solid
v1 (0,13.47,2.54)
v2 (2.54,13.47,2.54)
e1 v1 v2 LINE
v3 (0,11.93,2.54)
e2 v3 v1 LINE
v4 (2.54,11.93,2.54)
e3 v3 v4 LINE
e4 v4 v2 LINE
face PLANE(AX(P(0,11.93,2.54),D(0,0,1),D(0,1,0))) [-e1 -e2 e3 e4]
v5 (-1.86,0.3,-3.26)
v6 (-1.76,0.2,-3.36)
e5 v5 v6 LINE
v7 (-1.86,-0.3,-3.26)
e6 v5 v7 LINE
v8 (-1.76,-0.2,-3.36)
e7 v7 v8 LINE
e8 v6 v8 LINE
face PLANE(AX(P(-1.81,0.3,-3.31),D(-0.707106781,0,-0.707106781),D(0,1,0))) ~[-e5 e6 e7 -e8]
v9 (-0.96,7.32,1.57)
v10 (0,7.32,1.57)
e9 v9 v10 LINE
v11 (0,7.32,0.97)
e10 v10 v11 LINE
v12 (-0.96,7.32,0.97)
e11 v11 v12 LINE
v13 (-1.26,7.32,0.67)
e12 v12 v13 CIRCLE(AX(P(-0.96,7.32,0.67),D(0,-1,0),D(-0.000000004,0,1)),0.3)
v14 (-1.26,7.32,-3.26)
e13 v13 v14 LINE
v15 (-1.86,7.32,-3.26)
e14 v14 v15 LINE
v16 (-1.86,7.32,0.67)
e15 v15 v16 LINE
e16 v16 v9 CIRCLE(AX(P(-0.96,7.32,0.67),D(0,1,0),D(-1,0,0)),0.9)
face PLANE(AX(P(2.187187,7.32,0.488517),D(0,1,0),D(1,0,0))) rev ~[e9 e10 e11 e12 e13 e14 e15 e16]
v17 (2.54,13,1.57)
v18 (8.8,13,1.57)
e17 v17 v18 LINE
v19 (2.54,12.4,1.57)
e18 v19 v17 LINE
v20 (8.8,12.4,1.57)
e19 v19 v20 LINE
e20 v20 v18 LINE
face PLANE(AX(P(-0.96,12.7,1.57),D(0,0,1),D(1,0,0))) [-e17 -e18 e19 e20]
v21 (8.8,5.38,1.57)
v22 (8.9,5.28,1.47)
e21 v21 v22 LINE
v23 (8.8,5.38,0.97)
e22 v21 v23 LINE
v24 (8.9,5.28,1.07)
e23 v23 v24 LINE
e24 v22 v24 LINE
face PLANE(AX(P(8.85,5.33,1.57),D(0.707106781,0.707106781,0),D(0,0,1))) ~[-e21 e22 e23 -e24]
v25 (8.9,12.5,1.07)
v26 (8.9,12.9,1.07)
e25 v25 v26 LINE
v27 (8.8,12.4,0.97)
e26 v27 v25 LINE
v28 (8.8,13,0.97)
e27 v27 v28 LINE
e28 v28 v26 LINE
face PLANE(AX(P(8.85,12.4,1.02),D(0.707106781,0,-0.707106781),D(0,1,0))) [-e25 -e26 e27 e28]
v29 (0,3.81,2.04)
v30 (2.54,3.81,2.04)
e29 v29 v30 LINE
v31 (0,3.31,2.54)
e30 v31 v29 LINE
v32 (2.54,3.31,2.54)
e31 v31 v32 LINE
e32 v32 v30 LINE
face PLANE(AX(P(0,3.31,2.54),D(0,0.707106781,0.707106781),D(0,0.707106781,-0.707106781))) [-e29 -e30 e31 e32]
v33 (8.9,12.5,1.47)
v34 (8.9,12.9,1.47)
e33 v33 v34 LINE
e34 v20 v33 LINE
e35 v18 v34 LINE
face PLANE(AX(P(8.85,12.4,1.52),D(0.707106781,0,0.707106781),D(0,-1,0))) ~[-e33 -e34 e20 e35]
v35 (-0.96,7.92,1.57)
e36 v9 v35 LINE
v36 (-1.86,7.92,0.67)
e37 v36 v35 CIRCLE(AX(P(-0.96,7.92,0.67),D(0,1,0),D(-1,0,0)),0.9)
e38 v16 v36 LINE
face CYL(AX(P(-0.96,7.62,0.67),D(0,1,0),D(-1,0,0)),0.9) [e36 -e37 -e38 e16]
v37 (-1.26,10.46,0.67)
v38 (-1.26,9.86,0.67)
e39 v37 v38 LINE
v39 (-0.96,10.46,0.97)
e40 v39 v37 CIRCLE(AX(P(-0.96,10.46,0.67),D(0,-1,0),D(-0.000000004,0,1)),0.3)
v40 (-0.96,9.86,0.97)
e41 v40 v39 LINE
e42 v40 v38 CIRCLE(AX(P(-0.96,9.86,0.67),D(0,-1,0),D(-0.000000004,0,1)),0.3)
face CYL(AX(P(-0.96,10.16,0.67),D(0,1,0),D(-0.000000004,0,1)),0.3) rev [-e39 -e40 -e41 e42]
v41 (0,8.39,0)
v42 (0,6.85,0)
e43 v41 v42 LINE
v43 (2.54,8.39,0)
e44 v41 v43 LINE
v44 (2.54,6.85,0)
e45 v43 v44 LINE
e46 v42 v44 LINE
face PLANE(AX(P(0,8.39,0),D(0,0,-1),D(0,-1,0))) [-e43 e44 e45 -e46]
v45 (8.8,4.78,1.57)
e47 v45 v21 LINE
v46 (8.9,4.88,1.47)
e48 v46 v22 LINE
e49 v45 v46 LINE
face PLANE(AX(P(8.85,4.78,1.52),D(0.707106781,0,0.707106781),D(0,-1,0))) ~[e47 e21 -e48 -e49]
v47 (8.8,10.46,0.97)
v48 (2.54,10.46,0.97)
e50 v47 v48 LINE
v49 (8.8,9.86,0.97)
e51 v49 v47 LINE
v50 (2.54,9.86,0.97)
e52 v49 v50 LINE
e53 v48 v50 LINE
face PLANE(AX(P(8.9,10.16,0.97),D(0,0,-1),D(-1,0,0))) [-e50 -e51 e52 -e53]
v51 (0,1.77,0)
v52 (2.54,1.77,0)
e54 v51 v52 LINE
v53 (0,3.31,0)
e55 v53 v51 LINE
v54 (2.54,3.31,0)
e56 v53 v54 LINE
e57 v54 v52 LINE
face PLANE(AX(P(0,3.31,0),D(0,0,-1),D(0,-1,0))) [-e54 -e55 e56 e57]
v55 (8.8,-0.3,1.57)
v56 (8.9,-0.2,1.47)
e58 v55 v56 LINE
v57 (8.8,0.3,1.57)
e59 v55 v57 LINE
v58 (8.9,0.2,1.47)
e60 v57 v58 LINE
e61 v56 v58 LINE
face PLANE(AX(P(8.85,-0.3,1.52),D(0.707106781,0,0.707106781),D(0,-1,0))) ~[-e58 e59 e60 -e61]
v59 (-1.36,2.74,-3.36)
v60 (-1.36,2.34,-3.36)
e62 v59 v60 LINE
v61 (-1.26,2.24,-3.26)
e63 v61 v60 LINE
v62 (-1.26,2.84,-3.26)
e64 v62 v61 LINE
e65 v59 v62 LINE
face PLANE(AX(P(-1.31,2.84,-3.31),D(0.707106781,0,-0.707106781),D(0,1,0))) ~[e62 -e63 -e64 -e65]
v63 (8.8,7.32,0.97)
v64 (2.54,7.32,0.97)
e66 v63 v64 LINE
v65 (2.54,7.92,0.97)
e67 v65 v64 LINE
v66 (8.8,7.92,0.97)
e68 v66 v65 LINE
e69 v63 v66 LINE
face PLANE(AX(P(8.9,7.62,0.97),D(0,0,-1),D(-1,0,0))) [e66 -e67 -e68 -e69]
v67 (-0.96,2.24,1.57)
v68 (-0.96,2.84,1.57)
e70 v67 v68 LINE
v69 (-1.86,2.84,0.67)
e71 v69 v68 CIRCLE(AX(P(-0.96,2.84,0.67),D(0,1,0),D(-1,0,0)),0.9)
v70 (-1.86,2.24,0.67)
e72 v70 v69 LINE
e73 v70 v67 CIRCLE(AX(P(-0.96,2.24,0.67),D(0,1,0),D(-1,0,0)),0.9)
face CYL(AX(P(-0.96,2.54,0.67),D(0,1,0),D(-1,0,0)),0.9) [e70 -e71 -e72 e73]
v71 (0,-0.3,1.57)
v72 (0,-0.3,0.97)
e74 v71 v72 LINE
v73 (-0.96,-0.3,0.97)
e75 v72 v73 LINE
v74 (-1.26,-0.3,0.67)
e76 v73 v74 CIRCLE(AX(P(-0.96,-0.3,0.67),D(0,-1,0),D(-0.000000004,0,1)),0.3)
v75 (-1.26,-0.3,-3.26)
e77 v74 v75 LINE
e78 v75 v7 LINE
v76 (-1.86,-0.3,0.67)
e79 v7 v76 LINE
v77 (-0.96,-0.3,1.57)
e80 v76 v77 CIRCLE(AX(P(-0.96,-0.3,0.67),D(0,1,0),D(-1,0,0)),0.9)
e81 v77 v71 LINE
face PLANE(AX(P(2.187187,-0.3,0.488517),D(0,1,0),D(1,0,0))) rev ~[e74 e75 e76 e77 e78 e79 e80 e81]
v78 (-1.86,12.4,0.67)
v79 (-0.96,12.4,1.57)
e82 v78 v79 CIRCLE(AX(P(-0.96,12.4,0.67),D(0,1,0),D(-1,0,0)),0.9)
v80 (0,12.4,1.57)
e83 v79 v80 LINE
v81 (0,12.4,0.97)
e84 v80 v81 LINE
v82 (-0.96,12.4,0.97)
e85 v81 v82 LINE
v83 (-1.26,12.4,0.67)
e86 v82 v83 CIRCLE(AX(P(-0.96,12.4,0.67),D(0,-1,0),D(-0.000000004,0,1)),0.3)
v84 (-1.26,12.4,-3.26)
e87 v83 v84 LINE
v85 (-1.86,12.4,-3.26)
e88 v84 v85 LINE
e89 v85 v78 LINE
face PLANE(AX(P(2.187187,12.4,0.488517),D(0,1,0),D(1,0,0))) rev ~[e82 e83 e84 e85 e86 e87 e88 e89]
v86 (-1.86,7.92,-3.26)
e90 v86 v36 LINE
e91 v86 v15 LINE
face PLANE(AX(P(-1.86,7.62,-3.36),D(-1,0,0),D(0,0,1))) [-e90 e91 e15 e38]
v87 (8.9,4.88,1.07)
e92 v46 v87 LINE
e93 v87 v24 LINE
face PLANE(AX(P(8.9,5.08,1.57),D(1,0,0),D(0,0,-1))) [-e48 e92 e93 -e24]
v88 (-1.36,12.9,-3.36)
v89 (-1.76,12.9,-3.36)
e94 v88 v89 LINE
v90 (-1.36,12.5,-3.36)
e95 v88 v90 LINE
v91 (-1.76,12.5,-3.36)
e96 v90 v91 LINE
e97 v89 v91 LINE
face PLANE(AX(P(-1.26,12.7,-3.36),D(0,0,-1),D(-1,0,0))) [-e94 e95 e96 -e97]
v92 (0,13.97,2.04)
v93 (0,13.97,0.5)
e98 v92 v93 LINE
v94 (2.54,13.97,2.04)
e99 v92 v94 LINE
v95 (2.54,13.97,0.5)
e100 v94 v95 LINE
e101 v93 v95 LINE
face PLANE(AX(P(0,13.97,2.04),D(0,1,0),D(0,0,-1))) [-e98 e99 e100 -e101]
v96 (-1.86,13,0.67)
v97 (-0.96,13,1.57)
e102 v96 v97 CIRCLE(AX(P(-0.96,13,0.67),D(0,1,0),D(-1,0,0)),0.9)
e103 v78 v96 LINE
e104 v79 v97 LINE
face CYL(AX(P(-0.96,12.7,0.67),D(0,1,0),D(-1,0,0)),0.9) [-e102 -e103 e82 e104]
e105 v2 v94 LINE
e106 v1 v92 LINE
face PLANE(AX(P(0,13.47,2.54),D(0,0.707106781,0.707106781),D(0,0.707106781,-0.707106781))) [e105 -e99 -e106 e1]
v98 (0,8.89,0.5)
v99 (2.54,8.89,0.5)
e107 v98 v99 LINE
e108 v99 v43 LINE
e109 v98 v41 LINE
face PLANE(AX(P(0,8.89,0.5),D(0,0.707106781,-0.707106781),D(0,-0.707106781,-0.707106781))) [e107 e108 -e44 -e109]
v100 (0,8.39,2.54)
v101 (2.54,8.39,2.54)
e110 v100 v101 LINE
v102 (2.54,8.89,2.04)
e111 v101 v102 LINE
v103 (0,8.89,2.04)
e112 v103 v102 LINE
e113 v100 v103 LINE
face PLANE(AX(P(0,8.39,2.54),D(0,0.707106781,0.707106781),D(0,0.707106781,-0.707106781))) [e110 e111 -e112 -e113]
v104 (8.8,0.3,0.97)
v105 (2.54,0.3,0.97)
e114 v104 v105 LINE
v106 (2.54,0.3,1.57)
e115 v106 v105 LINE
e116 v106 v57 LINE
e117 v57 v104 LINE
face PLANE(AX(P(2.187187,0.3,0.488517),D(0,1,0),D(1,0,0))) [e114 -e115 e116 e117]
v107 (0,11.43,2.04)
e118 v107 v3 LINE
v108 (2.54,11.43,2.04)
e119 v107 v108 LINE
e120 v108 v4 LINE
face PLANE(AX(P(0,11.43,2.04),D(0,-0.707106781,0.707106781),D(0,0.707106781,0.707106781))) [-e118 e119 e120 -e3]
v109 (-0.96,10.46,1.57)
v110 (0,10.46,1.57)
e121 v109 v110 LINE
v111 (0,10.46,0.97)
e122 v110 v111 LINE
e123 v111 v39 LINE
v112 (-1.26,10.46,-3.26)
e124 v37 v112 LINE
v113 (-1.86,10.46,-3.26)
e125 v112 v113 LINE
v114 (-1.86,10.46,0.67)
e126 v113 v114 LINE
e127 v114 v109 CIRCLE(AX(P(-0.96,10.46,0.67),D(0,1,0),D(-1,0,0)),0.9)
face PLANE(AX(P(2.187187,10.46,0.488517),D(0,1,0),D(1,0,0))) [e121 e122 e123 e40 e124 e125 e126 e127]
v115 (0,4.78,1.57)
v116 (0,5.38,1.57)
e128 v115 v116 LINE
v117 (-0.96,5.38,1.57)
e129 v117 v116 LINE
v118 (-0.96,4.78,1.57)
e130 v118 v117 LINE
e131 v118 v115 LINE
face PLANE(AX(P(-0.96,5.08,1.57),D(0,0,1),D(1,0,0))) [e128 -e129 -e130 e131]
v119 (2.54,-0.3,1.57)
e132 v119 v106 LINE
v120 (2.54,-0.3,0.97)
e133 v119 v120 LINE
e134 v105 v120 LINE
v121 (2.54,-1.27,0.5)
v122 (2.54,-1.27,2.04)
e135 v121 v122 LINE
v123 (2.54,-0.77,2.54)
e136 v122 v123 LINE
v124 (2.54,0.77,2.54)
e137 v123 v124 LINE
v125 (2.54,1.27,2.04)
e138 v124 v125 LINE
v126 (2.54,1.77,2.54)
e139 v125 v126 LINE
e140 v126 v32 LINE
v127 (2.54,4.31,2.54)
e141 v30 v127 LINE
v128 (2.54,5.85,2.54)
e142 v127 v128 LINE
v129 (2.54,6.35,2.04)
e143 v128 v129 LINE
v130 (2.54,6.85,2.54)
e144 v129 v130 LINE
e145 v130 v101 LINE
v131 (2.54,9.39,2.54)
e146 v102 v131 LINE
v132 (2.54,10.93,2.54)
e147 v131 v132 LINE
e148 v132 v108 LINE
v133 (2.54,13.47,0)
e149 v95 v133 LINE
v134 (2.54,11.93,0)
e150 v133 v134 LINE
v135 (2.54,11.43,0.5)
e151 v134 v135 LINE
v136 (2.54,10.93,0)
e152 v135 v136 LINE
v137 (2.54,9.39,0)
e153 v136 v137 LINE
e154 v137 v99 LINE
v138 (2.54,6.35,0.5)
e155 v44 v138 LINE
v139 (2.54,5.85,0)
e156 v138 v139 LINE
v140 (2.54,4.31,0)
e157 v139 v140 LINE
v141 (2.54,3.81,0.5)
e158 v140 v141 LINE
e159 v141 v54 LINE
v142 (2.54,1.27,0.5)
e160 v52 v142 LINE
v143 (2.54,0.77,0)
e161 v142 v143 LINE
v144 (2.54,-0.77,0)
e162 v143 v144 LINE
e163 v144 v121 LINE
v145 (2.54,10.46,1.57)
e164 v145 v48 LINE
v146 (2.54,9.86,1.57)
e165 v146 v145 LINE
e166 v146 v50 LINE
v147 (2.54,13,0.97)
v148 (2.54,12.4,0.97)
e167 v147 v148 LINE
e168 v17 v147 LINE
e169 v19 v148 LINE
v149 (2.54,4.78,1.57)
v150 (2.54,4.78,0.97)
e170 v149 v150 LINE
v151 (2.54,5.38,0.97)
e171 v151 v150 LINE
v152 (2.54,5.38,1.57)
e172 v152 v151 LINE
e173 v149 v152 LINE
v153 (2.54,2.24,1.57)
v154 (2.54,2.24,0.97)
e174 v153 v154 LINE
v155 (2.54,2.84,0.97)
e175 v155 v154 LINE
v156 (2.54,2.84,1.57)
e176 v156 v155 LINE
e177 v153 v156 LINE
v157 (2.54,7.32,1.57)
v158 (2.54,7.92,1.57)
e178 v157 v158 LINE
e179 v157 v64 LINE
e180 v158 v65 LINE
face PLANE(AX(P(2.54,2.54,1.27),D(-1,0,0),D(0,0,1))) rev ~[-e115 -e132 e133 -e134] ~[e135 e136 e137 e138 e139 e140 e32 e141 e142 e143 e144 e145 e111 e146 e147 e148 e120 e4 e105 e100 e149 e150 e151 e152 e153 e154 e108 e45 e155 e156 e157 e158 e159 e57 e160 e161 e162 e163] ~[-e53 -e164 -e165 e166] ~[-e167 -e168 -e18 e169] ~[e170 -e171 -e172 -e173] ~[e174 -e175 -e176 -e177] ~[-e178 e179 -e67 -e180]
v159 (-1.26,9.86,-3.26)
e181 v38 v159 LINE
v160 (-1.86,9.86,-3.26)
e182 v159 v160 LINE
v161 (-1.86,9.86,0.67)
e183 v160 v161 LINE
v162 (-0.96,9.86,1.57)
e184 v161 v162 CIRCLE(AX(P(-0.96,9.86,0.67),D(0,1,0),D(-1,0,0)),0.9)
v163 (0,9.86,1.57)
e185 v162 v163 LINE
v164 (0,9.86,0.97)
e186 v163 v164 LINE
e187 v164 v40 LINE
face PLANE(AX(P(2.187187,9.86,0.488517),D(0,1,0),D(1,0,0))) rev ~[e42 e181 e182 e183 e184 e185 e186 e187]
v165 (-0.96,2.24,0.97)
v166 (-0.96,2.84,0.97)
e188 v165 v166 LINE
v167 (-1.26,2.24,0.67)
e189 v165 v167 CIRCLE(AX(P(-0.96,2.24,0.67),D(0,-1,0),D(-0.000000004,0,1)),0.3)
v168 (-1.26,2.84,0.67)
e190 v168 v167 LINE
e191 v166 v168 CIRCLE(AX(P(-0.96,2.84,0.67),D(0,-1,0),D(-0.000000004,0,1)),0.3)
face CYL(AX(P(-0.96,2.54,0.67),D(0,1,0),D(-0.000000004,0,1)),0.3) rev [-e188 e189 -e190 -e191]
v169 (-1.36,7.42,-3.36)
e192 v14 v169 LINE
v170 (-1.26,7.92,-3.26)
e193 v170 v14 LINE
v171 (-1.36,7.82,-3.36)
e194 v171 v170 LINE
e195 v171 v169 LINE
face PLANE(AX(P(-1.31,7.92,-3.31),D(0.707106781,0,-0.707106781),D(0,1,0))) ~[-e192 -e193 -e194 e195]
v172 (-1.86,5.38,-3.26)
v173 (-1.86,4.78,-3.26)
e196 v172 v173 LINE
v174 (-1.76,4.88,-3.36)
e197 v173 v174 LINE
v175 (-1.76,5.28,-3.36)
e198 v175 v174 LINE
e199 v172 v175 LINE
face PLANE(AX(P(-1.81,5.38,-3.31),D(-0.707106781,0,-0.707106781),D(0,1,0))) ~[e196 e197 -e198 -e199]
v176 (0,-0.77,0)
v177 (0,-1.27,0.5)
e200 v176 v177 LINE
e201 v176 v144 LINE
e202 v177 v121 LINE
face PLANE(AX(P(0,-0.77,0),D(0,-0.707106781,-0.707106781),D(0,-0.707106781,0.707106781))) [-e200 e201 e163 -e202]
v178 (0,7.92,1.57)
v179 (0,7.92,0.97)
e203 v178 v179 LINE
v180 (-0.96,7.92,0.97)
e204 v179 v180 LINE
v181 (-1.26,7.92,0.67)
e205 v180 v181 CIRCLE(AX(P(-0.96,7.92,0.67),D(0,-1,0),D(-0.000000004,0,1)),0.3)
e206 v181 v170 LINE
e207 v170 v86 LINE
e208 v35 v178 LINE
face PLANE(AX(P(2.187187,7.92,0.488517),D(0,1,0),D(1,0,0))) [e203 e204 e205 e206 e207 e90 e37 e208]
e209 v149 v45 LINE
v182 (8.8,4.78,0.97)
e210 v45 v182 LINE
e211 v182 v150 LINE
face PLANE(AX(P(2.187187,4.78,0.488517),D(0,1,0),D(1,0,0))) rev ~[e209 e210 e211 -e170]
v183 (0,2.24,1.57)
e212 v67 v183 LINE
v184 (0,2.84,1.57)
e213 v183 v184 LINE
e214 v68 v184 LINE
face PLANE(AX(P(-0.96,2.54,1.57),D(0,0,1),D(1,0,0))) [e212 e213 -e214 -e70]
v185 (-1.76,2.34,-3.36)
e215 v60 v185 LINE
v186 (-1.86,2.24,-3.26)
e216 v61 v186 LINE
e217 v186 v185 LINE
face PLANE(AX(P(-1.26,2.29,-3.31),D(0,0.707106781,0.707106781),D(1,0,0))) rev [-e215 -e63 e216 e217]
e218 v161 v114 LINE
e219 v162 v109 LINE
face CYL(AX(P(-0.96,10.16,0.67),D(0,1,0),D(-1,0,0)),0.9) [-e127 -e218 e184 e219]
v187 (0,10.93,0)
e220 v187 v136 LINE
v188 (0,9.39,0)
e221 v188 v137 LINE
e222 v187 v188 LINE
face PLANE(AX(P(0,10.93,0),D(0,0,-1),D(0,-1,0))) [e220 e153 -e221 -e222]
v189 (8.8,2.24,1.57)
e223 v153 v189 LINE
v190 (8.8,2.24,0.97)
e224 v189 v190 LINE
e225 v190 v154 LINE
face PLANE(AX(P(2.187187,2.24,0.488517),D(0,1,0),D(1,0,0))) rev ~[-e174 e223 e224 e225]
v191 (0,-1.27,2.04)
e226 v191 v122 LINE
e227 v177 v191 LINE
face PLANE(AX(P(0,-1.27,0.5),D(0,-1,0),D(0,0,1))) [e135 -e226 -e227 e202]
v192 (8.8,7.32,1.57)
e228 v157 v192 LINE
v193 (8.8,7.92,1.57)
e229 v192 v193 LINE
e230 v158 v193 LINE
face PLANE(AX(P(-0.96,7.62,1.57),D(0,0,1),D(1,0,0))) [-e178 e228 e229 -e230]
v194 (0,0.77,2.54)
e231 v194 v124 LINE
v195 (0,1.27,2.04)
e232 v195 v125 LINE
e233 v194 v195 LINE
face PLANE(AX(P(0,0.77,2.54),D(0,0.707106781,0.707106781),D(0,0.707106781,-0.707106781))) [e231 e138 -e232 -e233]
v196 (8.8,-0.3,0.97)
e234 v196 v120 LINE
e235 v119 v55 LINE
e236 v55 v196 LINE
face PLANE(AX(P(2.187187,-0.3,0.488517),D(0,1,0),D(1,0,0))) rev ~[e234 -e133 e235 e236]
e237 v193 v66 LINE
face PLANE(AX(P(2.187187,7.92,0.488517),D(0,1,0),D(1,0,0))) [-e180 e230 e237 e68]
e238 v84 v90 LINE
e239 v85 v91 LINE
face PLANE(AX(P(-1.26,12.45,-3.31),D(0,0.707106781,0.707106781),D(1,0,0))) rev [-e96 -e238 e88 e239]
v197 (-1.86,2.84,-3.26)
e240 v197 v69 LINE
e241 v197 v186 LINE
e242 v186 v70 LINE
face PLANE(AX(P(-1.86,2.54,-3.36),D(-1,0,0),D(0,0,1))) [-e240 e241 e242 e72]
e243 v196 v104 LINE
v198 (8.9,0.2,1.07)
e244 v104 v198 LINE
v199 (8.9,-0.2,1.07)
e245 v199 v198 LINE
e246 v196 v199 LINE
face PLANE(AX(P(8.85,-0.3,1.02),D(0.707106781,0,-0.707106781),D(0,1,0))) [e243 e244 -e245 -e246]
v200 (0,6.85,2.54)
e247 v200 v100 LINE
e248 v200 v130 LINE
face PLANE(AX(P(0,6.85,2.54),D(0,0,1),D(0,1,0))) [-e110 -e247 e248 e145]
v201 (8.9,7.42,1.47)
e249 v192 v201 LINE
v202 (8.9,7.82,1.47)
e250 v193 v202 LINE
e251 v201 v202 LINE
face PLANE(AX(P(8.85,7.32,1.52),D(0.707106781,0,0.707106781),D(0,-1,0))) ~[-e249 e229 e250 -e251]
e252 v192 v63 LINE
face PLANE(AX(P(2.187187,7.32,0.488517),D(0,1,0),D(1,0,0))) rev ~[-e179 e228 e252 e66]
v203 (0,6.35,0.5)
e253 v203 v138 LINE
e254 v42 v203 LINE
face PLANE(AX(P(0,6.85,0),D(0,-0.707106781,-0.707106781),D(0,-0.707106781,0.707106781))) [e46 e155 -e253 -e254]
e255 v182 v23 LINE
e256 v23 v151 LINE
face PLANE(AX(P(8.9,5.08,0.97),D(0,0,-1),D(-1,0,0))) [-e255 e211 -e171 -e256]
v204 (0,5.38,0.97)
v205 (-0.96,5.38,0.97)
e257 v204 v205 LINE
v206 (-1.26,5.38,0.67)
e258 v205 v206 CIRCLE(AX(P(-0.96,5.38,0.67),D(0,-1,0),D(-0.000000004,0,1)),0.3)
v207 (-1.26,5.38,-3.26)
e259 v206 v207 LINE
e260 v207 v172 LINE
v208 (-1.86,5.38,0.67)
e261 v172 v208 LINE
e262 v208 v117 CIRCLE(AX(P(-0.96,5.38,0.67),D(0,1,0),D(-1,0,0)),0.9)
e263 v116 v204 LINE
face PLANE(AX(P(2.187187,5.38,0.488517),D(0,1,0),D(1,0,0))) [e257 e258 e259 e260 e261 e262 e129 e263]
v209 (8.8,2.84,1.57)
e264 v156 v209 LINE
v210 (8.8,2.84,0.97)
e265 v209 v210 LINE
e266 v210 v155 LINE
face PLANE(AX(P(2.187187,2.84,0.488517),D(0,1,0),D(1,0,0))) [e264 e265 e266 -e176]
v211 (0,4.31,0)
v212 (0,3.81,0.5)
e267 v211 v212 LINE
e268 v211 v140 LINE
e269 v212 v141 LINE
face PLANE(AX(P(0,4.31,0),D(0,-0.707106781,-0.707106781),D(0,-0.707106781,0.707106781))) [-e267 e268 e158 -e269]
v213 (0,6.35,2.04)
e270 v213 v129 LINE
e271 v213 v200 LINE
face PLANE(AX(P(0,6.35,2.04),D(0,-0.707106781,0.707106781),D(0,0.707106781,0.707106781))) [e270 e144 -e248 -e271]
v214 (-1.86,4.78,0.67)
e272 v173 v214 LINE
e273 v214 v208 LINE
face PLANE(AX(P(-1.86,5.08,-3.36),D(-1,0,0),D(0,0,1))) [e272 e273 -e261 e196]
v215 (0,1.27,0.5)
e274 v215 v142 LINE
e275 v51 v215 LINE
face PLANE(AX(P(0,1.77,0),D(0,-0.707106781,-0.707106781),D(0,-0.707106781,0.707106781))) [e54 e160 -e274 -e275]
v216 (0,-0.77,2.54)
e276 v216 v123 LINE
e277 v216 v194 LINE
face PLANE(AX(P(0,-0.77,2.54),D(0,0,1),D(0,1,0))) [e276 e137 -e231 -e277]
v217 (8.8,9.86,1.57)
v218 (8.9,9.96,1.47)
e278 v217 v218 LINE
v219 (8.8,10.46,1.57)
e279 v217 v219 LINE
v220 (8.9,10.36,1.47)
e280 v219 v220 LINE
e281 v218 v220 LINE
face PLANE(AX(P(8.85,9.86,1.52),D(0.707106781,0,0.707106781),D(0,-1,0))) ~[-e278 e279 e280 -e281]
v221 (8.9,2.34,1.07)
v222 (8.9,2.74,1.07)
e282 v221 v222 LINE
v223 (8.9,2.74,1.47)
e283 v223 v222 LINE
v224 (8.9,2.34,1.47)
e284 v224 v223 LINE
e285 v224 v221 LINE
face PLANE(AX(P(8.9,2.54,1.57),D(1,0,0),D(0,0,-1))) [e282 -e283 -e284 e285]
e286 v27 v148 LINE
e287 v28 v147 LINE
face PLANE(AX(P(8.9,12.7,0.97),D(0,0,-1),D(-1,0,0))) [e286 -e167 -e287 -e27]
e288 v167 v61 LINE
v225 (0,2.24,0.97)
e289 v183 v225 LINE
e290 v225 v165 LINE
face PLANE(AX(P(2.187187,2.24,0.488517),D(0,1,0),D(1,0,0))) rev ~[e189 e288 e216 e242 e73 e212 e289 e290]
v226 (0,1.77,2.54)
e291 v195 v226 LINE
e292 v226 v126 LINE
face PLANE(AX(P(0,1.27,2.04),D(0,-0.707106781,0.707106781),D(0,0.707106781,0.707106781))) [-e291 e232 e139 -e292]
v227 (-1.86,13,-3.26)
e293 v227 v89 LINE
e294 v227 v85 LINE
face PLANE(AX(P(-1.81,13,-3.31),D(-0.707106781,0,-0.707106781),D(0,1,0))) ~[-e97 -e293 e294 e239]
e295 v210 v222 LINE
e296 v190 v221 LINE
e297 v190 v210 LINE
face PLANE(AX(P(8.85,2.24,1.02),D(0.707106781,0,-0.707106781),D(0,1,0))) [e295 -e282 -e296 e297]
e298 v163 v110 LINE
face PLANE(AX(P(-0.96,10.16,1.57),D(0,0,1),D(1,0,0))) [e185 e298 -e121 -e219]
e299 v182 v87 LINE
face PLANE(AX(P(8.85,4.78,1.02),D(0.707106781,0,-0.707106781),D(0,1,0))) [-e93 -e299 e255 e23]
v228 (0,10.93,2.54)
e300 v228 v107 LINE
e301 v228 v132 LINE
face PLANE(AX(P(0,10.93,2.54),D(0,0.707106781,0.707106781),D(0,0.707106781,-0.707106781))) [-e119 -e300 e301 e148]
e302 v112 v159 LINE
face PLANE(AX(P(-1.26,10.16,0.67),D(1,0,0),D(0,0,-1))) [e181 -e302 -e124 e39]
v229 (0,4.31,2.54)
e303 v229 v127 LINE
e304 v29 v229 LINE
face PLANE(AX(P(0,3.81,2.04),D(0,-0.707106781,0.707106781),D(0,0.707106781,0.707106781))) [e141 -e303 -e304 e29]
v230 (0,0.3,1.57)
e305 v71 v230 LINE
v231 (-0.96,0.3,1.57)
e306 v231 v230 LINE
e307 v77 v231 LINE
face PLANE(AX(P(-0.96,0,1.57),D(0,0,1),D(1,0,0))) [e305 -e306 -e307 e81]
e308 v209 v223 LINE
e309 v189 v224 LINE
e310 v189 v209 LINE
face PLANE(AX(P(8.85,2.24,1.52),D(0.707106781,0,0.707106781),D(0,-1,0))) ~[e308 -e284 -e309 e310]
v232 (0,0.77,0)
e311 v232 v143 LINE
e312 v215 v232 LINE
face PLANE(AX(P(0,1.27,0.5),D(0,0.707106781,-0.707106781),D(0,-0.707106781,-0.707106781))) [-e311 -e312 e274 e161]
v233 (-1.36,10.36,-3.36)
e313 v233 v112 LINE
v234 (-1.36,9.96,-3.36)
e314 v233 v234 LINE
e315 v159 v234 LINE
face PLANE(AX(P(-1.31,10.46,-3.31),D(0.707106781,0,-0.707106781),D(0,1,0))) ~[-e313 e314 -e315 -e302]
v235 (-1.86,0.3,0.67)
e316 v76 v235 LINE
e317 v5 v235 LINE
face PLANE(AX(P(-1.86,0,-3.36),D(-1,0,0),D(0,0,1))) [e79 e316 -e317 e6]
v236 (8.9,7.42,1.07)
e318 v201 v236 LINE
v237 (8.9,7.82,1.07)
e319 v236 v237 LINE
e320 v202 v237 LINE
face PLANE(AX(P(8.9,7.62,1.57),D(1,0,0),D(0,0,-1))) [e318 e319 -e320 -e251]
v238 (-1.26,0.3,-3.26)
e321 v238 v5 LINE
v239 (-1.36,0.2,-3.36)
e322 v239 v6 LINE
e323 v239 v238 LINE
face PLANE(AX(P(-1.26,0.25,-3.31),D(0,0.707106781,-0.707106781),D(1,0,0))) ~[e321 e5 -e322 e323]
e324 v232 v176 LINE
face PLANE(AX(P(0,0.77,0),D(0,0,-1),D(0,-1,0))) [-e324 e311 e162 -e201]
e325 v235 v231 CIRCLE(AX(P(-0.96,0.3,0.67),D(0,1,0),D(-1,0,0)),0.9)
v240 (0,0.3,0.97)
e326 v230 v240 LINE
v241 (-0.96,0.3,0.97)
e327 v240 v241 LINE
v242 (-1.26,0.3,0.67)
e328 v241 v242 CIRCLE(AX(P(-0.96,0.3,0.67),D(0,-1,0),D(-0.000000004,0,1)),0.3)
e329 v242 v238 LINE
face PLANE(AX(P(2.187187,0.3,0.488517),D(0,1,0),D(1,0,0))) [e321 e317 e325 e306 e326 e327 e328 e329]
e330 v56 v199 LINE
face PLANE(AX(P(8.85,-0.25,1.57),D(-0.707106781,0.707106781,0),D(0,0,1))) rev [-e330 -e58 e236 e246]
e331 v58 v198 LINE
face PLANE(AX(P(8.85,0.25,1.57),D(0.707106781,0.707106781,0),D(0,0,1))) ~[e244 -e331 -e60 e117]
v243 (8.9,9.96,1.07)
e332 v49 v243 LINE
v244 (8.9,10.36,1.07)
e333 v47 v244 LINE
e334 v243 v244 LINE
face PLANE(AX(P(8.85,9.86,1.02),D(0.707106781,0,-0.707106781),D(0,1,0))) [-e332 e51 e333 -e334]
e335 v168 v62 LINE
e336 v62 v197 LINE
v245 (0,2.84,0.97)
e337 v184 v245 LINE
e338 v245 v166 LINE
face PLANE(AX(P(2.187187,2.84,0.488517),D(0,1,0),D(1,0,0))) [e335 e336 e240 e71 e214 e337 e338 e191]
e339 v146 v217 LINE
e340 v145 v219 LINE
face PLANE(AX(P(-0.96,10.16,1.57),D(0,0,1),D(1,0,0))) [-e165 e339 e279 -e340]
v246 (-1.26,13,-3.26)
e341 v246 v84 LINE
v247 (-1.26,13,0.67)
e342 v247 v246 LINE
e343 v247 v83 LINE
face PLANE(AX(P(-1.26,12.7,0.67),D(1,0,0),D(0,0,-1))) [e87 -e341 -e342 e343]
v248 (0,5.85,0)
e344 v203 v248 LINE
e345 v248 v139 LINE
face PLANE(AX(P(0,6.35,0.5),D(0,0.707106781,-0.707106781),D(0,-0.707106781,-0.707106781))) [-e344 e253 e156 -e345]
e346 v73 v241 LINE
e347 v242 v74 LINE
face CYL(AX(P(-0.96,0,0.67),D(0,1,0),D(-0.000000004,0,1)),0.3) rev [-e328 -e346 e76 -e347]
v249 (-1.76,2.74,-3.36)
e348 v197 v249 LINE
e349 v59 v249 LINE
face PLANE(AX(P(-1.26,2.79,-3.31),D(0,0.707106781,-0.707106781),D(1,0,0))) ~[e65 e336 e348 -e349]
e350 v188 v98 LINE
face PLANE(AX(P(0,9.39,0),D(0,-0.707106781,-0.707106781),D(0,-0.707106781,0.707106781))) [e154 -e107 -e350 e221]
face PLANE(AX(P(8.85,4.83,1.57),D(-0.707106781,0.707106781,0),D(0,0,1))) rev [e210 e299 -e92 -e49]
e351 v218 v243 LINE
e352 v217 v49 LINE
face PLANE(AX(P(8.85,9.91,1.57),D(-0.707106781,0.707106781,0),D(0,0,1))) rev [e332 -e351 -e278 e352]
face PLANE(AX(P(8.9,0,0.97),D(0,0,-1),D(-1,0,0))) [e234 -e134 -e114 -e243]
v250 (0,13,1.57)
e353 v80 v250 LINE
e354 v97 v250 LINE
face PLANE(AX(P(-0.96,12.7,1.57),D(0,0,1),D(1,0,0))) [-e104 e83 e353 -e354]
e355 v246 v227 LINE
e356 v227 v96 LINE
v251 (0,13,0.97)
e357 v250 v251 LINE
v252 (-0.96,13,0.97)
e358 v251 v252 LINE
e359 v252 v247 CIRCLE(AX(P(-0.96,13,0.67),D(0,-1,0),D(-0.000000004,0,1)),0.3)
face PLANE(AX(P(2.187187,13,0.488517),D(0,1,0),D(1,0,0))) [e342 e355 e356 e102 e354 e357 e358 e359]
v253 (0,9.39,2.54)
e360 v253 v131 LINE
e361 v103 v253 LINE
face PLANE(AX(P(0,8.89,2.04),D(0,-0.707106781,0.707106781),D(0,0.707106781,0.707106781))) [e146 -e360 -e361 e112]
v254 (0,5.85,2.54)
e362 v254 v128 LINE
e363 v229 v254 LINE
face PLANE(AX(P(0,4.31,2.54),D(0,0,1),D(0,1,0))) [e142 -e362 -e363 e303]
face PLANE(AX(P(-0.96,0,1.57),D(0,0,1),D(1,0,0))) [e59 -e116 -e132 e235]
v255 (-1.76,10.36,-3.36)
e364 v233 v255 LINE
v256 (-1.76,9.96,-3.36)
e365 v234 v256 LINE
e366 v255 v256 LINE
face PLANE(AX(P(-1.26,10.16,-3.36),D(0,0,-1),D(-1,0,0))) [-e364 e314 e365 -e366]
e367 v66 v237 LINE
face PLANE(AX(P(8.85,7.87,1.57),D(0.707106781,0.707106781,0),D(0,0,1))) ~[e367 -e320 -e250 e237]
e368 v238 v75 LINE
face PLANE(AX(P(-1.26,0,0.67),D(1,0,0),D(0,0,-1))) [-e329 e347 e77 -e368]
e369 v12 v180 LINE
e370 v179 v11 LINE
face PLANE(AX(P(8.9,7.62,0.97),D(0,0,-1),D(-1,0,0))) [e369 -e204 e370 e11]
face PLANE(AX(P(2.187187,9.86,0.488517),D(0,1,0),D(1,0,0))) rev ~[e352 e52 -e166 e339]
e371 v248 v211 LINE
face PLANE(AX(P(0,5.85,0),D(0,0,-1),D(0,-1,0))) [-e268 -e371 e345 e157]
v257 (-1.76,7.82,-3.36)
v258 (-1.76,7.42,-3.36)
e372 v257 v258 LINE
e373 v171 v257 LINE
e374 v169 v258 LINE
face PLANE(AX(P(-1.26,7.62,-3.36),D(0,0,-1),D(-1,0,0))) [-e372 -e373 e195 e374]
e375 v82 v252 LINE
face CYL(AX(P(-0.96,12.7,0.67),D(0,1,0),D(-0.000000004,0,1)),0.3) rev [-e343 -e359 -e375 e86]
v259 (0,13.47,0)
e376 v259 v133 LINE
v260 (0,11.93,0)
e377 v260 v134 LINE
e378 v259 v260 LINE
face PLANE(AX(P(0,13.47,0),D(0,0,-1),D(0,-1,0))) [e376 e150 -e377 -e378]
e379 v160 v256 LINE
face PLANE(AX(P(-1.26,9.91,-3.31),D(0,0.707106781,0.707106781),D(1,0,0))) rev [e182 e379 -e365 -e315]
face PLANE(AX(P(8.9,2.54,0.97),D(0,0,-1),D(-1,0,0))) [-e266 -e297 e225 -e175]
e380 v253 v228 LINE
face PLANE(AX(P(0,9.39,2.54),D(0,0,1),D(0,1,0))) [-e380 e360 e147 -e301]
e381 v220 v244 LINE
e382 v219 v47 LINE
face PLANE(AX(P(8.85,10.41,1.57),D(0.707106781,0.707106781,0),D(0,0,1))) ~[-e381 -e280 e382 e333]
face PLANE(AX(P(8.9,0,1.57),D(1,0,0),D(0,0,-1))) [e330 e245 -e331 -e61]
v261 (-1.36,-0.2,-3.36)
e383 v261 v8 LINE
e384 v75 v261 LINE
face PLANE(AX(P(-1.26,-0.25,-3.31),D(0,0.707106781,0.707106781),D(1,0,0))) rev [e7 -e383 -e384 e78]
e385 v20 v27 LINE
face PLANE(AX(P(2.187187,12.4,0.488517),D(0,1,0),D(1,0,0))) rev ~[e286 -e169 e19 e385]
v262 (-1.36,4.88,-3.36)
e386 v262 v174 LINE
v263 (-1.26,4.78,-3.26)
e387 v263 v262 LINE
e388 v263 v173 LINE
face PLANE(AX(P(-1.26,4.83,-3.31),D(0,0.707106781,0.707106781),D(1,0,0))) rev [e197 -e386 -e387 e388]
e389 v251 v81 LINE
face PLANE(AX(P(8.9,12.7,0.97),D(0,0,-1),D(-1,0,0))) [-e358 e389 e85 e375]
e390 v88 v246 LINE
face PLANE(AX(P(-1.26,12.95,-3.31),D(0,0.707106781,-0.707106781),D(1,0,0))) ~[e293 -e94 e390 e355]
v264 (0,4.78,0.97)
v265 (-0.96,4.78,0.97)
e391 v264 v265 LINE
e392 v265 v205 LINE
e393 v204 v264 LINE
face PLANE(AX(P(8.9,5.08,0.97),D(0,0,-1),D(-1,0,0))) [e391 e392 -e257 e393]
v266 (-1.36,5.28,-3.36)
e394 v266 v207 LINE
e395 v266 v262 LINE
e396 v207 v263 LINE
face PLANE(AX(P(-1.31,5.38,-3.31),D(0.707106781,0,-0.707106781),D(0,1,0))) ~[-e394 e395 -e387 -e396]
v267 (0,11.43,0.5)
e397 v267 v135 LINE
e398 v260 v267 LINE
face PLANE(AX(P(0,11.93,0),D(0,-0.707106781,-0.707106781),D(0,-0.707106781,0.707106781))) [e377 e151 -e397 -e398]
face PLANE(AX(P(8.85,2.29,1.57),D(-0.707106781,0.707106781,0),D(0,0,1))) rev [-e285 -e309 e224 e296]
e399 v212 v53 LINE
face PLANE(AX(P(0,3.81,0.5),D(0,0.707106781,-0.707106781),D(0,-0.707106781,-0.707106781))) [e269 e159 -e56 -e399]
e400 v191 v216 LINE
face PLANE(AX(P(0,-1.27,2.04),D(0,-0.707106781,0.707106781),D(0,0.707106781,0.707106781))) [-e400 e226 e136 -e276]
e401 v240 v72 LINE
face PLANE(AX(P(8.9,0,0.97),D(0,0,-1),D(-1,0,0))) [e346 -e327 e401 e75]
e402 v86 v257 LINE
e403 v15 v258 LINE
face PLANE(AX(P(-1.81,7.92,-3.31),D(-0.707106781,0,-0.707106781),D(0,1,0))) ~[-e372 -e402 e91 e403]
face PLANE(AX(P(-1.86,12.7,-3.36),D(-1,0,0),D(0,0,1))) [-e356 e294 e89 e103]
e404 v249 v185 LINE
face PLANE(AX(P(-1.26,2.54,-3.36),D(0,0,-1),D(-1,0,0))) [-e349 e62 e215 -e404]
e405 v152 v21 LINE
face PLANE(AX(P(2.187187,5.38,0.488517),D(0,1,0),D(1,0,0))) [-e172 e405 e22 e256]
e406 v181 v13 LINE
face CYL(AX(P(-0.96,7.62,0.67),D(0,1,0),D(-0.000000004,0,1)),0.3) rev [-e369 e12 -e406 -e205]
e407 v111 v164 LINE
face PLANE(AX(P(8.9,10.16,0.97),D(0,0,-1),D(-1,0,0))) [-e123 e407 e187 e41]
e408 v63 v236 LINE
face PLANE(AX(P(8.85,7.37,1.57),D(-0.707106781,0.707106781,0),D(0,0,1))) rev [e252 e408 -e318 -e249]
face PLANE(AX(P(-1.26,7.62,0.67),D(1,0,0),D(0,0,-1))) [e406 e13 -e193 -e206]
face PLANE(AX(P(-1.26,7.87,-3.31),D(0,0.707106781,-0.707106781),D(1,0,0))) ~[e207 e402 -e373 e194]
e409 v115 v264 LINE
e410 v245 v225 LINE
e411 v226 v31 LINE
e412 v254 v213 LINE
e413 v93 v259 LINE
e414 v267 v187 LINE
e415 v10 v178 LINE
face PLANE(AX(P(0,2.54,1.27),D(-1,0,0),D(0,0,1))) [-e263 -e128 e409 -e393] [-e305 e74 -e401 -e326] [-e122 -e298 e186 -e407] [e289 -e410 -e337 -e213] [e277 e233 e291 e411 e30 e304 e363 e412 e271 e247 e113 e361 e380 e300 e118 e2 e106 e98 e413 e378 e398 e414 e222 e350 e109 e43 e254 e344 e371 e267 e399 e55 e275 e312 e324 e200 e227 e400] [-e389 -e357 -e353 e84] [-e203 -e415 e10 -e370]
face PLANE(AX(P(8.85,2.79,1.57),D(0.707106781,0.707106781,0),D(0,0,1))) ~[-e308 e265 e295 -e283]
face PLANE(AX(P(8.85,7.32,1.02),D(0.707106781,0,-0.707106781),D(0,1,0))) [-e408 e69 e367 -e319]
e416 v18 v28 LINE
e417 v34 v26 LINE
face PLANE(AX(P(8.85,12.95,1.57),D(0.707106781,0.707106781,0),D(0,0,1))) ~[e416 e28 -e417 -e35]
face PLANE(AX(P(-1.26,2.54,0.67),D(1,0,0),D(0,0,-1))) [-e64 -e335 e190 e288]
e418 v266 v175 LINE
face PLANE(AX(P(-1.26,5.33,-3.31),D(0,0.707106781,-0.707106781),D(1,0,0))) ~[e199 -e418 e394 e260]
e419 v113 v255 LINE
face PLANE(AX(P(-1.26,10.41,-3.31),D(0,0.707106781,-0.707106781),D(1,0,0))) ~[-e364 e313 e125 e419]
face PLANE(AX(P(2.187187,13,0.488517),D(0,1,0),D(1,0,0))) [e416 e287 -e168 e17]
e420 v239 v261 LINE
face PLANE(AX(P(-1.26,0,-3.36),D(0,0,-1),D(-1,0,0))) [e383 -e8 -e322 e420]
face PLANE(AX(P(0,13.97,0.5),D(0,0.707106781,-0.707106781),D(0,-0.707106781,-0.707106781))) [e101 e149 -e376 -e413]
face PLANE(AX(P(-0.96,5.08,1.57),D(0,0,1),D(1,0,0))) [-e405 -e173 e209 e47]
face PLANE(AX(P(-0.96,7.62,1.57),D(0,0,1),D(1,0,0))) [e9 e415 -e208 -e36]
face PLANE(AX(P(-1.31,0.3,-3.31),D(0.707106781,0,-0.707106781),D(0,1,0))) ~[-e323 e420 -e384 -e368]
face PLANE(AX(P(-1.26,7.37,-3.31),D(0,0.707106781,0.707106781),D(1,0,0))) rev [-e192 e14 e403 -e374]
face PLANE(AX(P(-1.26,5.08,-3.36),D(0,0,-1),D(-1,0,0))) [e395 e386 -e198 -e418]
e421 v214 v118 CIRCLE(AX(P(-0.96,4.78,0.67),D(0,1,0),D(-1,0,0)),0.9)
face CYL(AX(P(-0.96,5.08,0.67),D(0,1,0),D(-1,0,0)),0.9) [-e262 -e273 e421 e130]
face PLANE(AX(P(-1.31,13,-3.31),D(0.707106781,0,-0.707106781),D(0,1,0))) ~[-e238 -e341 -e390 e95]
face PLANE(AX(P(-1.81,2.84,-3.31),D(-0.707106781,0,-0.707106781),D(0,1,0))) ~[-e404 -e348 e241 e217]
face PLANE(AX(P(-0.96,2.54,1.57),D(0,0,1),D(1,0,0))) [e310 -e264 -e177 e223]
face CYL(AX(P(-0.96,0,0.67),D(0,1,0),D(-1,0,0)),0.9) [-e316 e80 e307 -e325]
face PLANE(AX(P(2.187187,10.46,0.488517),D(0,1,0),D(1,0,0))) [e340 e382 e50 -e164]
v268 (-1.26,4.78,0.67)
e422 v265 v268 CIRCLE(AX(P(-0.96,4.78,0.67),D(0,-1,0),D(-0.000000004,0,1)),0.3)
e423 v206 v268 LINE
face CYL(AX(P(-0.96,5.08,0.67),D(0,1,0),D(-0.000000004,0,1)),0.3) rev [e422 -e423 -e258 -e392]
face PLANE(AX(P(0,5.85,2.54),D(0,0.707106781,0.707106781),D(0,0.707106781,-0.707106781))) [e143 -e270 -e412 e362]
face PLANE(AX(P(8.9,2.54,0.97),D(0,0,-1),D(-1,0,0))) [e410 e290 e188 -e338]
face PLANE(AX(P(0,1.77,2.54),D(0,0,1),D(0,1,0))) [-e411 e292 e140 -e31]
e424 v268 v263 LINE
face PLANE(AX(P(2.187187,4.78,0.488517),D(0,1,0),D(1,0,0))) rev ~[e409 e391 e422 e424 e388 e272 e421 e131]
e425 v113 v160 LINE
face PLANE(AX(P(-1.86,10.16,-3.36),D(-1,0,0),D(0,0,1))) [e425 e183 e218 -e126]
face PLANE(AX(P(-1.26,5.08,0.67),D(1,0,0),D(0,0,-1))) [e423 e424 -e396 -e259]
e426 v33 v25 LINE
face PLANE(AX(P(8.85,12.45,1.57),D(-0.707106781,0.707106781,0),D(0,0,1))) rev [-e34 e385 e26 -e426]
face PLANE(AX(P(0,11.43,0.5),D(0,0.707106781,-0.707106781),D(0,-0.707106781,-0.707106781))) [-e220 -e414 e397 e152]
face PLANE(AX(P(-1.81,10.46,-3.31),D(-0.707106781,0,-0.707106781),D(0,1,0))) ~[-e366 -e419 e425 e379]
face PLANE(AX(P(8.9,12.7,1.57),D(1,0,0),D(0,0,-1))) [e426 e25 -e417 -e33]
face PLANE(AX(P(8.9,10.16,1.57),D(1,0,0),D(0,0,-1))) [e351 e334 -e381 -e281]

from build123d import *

# Parameters (mm, degrees)
PLASTIC_DEPTH   = 2.54
CONTACT_DEPTH   = 0.3
CHAMFER1_SIZE   = 0.1
LPATTERN1_COUNT = 6
LPATTERN1_PITCH = 2.54


with BuildPart() as part:
    # Sketch1 → Plastic (new body)
    with BuildSketch(Plane(origin=(0, 0, 0), x_dir=(0, 0, -1), z_dir=(1, 0, 0))):
        Polygon((-2.04, 1.27), (-0.5, 1.27), (0, 0.77), (0, -0.77), (-0.5, -1.27), (-2.04, -1.27), (-2.54, -0.77), (-2.54, 0.77), align=None)
    extrude(amount=PLASTIC_DEPTH)

    # Sketch2 → Contact (add, symmetric)
    with BuildSketch(Plane(origin=(0, 0, 0), x_dir=(1, 0, 0), z_dir=(0, 1, 0))):
        with BuildLine():
            Line((-1.86, 3.36), (-1.86, -0.67))
            ThreePointArc((-1.86, -0.67), (-1.596396103, -1.306396103), (-0.96, -1.57))
            Line((-0.96, -1.57), (8.9, -1.57))
            Line((8.9, -1.57), (8.9, -0.97))
            Line((8.9, -0.97), (-0.96, -0.97))
            ThreePointArc((-0.96, -0.97), (-1.172132034, -0.882132034), (-1.26, -0.67))
            Line((-1.26, -0.67), (-1.26, 3.36))
            Line((-1.26, 3.36), (-1.86, 3.36))
        make_face()
    extrude(amount=CONTACT_DEPTH, both=True)

    # Chamfer1
    chamfer1_edges = [part.edges().sort_by_distance(p)[0] for p in [
        (8.9, 0, 0.97),
        (8.9, 0.3, 1.27),
        (-1.56, -0.3, -3.36),
        (-1.26, 0, -3.36),
        (-1.86, 0, -3.36),
        (8.9, -0.3, 1.27),
        (8.9, 0, 1.57),
        (-1.56, 0.3, -3.36),
    ]]
    chamfer(chamfer1_edges, length=CHAMFER1_SIZE)

    # LPattern1: part ×6


with BuildPart() as part_1:
    add(part.part)
    with Locations(*[(0, i * LPATTERN1_PITCH, 0) for i in range(1, LPATTERN1_COUNT)]):
        add(part.part)


solid = part_1.part
